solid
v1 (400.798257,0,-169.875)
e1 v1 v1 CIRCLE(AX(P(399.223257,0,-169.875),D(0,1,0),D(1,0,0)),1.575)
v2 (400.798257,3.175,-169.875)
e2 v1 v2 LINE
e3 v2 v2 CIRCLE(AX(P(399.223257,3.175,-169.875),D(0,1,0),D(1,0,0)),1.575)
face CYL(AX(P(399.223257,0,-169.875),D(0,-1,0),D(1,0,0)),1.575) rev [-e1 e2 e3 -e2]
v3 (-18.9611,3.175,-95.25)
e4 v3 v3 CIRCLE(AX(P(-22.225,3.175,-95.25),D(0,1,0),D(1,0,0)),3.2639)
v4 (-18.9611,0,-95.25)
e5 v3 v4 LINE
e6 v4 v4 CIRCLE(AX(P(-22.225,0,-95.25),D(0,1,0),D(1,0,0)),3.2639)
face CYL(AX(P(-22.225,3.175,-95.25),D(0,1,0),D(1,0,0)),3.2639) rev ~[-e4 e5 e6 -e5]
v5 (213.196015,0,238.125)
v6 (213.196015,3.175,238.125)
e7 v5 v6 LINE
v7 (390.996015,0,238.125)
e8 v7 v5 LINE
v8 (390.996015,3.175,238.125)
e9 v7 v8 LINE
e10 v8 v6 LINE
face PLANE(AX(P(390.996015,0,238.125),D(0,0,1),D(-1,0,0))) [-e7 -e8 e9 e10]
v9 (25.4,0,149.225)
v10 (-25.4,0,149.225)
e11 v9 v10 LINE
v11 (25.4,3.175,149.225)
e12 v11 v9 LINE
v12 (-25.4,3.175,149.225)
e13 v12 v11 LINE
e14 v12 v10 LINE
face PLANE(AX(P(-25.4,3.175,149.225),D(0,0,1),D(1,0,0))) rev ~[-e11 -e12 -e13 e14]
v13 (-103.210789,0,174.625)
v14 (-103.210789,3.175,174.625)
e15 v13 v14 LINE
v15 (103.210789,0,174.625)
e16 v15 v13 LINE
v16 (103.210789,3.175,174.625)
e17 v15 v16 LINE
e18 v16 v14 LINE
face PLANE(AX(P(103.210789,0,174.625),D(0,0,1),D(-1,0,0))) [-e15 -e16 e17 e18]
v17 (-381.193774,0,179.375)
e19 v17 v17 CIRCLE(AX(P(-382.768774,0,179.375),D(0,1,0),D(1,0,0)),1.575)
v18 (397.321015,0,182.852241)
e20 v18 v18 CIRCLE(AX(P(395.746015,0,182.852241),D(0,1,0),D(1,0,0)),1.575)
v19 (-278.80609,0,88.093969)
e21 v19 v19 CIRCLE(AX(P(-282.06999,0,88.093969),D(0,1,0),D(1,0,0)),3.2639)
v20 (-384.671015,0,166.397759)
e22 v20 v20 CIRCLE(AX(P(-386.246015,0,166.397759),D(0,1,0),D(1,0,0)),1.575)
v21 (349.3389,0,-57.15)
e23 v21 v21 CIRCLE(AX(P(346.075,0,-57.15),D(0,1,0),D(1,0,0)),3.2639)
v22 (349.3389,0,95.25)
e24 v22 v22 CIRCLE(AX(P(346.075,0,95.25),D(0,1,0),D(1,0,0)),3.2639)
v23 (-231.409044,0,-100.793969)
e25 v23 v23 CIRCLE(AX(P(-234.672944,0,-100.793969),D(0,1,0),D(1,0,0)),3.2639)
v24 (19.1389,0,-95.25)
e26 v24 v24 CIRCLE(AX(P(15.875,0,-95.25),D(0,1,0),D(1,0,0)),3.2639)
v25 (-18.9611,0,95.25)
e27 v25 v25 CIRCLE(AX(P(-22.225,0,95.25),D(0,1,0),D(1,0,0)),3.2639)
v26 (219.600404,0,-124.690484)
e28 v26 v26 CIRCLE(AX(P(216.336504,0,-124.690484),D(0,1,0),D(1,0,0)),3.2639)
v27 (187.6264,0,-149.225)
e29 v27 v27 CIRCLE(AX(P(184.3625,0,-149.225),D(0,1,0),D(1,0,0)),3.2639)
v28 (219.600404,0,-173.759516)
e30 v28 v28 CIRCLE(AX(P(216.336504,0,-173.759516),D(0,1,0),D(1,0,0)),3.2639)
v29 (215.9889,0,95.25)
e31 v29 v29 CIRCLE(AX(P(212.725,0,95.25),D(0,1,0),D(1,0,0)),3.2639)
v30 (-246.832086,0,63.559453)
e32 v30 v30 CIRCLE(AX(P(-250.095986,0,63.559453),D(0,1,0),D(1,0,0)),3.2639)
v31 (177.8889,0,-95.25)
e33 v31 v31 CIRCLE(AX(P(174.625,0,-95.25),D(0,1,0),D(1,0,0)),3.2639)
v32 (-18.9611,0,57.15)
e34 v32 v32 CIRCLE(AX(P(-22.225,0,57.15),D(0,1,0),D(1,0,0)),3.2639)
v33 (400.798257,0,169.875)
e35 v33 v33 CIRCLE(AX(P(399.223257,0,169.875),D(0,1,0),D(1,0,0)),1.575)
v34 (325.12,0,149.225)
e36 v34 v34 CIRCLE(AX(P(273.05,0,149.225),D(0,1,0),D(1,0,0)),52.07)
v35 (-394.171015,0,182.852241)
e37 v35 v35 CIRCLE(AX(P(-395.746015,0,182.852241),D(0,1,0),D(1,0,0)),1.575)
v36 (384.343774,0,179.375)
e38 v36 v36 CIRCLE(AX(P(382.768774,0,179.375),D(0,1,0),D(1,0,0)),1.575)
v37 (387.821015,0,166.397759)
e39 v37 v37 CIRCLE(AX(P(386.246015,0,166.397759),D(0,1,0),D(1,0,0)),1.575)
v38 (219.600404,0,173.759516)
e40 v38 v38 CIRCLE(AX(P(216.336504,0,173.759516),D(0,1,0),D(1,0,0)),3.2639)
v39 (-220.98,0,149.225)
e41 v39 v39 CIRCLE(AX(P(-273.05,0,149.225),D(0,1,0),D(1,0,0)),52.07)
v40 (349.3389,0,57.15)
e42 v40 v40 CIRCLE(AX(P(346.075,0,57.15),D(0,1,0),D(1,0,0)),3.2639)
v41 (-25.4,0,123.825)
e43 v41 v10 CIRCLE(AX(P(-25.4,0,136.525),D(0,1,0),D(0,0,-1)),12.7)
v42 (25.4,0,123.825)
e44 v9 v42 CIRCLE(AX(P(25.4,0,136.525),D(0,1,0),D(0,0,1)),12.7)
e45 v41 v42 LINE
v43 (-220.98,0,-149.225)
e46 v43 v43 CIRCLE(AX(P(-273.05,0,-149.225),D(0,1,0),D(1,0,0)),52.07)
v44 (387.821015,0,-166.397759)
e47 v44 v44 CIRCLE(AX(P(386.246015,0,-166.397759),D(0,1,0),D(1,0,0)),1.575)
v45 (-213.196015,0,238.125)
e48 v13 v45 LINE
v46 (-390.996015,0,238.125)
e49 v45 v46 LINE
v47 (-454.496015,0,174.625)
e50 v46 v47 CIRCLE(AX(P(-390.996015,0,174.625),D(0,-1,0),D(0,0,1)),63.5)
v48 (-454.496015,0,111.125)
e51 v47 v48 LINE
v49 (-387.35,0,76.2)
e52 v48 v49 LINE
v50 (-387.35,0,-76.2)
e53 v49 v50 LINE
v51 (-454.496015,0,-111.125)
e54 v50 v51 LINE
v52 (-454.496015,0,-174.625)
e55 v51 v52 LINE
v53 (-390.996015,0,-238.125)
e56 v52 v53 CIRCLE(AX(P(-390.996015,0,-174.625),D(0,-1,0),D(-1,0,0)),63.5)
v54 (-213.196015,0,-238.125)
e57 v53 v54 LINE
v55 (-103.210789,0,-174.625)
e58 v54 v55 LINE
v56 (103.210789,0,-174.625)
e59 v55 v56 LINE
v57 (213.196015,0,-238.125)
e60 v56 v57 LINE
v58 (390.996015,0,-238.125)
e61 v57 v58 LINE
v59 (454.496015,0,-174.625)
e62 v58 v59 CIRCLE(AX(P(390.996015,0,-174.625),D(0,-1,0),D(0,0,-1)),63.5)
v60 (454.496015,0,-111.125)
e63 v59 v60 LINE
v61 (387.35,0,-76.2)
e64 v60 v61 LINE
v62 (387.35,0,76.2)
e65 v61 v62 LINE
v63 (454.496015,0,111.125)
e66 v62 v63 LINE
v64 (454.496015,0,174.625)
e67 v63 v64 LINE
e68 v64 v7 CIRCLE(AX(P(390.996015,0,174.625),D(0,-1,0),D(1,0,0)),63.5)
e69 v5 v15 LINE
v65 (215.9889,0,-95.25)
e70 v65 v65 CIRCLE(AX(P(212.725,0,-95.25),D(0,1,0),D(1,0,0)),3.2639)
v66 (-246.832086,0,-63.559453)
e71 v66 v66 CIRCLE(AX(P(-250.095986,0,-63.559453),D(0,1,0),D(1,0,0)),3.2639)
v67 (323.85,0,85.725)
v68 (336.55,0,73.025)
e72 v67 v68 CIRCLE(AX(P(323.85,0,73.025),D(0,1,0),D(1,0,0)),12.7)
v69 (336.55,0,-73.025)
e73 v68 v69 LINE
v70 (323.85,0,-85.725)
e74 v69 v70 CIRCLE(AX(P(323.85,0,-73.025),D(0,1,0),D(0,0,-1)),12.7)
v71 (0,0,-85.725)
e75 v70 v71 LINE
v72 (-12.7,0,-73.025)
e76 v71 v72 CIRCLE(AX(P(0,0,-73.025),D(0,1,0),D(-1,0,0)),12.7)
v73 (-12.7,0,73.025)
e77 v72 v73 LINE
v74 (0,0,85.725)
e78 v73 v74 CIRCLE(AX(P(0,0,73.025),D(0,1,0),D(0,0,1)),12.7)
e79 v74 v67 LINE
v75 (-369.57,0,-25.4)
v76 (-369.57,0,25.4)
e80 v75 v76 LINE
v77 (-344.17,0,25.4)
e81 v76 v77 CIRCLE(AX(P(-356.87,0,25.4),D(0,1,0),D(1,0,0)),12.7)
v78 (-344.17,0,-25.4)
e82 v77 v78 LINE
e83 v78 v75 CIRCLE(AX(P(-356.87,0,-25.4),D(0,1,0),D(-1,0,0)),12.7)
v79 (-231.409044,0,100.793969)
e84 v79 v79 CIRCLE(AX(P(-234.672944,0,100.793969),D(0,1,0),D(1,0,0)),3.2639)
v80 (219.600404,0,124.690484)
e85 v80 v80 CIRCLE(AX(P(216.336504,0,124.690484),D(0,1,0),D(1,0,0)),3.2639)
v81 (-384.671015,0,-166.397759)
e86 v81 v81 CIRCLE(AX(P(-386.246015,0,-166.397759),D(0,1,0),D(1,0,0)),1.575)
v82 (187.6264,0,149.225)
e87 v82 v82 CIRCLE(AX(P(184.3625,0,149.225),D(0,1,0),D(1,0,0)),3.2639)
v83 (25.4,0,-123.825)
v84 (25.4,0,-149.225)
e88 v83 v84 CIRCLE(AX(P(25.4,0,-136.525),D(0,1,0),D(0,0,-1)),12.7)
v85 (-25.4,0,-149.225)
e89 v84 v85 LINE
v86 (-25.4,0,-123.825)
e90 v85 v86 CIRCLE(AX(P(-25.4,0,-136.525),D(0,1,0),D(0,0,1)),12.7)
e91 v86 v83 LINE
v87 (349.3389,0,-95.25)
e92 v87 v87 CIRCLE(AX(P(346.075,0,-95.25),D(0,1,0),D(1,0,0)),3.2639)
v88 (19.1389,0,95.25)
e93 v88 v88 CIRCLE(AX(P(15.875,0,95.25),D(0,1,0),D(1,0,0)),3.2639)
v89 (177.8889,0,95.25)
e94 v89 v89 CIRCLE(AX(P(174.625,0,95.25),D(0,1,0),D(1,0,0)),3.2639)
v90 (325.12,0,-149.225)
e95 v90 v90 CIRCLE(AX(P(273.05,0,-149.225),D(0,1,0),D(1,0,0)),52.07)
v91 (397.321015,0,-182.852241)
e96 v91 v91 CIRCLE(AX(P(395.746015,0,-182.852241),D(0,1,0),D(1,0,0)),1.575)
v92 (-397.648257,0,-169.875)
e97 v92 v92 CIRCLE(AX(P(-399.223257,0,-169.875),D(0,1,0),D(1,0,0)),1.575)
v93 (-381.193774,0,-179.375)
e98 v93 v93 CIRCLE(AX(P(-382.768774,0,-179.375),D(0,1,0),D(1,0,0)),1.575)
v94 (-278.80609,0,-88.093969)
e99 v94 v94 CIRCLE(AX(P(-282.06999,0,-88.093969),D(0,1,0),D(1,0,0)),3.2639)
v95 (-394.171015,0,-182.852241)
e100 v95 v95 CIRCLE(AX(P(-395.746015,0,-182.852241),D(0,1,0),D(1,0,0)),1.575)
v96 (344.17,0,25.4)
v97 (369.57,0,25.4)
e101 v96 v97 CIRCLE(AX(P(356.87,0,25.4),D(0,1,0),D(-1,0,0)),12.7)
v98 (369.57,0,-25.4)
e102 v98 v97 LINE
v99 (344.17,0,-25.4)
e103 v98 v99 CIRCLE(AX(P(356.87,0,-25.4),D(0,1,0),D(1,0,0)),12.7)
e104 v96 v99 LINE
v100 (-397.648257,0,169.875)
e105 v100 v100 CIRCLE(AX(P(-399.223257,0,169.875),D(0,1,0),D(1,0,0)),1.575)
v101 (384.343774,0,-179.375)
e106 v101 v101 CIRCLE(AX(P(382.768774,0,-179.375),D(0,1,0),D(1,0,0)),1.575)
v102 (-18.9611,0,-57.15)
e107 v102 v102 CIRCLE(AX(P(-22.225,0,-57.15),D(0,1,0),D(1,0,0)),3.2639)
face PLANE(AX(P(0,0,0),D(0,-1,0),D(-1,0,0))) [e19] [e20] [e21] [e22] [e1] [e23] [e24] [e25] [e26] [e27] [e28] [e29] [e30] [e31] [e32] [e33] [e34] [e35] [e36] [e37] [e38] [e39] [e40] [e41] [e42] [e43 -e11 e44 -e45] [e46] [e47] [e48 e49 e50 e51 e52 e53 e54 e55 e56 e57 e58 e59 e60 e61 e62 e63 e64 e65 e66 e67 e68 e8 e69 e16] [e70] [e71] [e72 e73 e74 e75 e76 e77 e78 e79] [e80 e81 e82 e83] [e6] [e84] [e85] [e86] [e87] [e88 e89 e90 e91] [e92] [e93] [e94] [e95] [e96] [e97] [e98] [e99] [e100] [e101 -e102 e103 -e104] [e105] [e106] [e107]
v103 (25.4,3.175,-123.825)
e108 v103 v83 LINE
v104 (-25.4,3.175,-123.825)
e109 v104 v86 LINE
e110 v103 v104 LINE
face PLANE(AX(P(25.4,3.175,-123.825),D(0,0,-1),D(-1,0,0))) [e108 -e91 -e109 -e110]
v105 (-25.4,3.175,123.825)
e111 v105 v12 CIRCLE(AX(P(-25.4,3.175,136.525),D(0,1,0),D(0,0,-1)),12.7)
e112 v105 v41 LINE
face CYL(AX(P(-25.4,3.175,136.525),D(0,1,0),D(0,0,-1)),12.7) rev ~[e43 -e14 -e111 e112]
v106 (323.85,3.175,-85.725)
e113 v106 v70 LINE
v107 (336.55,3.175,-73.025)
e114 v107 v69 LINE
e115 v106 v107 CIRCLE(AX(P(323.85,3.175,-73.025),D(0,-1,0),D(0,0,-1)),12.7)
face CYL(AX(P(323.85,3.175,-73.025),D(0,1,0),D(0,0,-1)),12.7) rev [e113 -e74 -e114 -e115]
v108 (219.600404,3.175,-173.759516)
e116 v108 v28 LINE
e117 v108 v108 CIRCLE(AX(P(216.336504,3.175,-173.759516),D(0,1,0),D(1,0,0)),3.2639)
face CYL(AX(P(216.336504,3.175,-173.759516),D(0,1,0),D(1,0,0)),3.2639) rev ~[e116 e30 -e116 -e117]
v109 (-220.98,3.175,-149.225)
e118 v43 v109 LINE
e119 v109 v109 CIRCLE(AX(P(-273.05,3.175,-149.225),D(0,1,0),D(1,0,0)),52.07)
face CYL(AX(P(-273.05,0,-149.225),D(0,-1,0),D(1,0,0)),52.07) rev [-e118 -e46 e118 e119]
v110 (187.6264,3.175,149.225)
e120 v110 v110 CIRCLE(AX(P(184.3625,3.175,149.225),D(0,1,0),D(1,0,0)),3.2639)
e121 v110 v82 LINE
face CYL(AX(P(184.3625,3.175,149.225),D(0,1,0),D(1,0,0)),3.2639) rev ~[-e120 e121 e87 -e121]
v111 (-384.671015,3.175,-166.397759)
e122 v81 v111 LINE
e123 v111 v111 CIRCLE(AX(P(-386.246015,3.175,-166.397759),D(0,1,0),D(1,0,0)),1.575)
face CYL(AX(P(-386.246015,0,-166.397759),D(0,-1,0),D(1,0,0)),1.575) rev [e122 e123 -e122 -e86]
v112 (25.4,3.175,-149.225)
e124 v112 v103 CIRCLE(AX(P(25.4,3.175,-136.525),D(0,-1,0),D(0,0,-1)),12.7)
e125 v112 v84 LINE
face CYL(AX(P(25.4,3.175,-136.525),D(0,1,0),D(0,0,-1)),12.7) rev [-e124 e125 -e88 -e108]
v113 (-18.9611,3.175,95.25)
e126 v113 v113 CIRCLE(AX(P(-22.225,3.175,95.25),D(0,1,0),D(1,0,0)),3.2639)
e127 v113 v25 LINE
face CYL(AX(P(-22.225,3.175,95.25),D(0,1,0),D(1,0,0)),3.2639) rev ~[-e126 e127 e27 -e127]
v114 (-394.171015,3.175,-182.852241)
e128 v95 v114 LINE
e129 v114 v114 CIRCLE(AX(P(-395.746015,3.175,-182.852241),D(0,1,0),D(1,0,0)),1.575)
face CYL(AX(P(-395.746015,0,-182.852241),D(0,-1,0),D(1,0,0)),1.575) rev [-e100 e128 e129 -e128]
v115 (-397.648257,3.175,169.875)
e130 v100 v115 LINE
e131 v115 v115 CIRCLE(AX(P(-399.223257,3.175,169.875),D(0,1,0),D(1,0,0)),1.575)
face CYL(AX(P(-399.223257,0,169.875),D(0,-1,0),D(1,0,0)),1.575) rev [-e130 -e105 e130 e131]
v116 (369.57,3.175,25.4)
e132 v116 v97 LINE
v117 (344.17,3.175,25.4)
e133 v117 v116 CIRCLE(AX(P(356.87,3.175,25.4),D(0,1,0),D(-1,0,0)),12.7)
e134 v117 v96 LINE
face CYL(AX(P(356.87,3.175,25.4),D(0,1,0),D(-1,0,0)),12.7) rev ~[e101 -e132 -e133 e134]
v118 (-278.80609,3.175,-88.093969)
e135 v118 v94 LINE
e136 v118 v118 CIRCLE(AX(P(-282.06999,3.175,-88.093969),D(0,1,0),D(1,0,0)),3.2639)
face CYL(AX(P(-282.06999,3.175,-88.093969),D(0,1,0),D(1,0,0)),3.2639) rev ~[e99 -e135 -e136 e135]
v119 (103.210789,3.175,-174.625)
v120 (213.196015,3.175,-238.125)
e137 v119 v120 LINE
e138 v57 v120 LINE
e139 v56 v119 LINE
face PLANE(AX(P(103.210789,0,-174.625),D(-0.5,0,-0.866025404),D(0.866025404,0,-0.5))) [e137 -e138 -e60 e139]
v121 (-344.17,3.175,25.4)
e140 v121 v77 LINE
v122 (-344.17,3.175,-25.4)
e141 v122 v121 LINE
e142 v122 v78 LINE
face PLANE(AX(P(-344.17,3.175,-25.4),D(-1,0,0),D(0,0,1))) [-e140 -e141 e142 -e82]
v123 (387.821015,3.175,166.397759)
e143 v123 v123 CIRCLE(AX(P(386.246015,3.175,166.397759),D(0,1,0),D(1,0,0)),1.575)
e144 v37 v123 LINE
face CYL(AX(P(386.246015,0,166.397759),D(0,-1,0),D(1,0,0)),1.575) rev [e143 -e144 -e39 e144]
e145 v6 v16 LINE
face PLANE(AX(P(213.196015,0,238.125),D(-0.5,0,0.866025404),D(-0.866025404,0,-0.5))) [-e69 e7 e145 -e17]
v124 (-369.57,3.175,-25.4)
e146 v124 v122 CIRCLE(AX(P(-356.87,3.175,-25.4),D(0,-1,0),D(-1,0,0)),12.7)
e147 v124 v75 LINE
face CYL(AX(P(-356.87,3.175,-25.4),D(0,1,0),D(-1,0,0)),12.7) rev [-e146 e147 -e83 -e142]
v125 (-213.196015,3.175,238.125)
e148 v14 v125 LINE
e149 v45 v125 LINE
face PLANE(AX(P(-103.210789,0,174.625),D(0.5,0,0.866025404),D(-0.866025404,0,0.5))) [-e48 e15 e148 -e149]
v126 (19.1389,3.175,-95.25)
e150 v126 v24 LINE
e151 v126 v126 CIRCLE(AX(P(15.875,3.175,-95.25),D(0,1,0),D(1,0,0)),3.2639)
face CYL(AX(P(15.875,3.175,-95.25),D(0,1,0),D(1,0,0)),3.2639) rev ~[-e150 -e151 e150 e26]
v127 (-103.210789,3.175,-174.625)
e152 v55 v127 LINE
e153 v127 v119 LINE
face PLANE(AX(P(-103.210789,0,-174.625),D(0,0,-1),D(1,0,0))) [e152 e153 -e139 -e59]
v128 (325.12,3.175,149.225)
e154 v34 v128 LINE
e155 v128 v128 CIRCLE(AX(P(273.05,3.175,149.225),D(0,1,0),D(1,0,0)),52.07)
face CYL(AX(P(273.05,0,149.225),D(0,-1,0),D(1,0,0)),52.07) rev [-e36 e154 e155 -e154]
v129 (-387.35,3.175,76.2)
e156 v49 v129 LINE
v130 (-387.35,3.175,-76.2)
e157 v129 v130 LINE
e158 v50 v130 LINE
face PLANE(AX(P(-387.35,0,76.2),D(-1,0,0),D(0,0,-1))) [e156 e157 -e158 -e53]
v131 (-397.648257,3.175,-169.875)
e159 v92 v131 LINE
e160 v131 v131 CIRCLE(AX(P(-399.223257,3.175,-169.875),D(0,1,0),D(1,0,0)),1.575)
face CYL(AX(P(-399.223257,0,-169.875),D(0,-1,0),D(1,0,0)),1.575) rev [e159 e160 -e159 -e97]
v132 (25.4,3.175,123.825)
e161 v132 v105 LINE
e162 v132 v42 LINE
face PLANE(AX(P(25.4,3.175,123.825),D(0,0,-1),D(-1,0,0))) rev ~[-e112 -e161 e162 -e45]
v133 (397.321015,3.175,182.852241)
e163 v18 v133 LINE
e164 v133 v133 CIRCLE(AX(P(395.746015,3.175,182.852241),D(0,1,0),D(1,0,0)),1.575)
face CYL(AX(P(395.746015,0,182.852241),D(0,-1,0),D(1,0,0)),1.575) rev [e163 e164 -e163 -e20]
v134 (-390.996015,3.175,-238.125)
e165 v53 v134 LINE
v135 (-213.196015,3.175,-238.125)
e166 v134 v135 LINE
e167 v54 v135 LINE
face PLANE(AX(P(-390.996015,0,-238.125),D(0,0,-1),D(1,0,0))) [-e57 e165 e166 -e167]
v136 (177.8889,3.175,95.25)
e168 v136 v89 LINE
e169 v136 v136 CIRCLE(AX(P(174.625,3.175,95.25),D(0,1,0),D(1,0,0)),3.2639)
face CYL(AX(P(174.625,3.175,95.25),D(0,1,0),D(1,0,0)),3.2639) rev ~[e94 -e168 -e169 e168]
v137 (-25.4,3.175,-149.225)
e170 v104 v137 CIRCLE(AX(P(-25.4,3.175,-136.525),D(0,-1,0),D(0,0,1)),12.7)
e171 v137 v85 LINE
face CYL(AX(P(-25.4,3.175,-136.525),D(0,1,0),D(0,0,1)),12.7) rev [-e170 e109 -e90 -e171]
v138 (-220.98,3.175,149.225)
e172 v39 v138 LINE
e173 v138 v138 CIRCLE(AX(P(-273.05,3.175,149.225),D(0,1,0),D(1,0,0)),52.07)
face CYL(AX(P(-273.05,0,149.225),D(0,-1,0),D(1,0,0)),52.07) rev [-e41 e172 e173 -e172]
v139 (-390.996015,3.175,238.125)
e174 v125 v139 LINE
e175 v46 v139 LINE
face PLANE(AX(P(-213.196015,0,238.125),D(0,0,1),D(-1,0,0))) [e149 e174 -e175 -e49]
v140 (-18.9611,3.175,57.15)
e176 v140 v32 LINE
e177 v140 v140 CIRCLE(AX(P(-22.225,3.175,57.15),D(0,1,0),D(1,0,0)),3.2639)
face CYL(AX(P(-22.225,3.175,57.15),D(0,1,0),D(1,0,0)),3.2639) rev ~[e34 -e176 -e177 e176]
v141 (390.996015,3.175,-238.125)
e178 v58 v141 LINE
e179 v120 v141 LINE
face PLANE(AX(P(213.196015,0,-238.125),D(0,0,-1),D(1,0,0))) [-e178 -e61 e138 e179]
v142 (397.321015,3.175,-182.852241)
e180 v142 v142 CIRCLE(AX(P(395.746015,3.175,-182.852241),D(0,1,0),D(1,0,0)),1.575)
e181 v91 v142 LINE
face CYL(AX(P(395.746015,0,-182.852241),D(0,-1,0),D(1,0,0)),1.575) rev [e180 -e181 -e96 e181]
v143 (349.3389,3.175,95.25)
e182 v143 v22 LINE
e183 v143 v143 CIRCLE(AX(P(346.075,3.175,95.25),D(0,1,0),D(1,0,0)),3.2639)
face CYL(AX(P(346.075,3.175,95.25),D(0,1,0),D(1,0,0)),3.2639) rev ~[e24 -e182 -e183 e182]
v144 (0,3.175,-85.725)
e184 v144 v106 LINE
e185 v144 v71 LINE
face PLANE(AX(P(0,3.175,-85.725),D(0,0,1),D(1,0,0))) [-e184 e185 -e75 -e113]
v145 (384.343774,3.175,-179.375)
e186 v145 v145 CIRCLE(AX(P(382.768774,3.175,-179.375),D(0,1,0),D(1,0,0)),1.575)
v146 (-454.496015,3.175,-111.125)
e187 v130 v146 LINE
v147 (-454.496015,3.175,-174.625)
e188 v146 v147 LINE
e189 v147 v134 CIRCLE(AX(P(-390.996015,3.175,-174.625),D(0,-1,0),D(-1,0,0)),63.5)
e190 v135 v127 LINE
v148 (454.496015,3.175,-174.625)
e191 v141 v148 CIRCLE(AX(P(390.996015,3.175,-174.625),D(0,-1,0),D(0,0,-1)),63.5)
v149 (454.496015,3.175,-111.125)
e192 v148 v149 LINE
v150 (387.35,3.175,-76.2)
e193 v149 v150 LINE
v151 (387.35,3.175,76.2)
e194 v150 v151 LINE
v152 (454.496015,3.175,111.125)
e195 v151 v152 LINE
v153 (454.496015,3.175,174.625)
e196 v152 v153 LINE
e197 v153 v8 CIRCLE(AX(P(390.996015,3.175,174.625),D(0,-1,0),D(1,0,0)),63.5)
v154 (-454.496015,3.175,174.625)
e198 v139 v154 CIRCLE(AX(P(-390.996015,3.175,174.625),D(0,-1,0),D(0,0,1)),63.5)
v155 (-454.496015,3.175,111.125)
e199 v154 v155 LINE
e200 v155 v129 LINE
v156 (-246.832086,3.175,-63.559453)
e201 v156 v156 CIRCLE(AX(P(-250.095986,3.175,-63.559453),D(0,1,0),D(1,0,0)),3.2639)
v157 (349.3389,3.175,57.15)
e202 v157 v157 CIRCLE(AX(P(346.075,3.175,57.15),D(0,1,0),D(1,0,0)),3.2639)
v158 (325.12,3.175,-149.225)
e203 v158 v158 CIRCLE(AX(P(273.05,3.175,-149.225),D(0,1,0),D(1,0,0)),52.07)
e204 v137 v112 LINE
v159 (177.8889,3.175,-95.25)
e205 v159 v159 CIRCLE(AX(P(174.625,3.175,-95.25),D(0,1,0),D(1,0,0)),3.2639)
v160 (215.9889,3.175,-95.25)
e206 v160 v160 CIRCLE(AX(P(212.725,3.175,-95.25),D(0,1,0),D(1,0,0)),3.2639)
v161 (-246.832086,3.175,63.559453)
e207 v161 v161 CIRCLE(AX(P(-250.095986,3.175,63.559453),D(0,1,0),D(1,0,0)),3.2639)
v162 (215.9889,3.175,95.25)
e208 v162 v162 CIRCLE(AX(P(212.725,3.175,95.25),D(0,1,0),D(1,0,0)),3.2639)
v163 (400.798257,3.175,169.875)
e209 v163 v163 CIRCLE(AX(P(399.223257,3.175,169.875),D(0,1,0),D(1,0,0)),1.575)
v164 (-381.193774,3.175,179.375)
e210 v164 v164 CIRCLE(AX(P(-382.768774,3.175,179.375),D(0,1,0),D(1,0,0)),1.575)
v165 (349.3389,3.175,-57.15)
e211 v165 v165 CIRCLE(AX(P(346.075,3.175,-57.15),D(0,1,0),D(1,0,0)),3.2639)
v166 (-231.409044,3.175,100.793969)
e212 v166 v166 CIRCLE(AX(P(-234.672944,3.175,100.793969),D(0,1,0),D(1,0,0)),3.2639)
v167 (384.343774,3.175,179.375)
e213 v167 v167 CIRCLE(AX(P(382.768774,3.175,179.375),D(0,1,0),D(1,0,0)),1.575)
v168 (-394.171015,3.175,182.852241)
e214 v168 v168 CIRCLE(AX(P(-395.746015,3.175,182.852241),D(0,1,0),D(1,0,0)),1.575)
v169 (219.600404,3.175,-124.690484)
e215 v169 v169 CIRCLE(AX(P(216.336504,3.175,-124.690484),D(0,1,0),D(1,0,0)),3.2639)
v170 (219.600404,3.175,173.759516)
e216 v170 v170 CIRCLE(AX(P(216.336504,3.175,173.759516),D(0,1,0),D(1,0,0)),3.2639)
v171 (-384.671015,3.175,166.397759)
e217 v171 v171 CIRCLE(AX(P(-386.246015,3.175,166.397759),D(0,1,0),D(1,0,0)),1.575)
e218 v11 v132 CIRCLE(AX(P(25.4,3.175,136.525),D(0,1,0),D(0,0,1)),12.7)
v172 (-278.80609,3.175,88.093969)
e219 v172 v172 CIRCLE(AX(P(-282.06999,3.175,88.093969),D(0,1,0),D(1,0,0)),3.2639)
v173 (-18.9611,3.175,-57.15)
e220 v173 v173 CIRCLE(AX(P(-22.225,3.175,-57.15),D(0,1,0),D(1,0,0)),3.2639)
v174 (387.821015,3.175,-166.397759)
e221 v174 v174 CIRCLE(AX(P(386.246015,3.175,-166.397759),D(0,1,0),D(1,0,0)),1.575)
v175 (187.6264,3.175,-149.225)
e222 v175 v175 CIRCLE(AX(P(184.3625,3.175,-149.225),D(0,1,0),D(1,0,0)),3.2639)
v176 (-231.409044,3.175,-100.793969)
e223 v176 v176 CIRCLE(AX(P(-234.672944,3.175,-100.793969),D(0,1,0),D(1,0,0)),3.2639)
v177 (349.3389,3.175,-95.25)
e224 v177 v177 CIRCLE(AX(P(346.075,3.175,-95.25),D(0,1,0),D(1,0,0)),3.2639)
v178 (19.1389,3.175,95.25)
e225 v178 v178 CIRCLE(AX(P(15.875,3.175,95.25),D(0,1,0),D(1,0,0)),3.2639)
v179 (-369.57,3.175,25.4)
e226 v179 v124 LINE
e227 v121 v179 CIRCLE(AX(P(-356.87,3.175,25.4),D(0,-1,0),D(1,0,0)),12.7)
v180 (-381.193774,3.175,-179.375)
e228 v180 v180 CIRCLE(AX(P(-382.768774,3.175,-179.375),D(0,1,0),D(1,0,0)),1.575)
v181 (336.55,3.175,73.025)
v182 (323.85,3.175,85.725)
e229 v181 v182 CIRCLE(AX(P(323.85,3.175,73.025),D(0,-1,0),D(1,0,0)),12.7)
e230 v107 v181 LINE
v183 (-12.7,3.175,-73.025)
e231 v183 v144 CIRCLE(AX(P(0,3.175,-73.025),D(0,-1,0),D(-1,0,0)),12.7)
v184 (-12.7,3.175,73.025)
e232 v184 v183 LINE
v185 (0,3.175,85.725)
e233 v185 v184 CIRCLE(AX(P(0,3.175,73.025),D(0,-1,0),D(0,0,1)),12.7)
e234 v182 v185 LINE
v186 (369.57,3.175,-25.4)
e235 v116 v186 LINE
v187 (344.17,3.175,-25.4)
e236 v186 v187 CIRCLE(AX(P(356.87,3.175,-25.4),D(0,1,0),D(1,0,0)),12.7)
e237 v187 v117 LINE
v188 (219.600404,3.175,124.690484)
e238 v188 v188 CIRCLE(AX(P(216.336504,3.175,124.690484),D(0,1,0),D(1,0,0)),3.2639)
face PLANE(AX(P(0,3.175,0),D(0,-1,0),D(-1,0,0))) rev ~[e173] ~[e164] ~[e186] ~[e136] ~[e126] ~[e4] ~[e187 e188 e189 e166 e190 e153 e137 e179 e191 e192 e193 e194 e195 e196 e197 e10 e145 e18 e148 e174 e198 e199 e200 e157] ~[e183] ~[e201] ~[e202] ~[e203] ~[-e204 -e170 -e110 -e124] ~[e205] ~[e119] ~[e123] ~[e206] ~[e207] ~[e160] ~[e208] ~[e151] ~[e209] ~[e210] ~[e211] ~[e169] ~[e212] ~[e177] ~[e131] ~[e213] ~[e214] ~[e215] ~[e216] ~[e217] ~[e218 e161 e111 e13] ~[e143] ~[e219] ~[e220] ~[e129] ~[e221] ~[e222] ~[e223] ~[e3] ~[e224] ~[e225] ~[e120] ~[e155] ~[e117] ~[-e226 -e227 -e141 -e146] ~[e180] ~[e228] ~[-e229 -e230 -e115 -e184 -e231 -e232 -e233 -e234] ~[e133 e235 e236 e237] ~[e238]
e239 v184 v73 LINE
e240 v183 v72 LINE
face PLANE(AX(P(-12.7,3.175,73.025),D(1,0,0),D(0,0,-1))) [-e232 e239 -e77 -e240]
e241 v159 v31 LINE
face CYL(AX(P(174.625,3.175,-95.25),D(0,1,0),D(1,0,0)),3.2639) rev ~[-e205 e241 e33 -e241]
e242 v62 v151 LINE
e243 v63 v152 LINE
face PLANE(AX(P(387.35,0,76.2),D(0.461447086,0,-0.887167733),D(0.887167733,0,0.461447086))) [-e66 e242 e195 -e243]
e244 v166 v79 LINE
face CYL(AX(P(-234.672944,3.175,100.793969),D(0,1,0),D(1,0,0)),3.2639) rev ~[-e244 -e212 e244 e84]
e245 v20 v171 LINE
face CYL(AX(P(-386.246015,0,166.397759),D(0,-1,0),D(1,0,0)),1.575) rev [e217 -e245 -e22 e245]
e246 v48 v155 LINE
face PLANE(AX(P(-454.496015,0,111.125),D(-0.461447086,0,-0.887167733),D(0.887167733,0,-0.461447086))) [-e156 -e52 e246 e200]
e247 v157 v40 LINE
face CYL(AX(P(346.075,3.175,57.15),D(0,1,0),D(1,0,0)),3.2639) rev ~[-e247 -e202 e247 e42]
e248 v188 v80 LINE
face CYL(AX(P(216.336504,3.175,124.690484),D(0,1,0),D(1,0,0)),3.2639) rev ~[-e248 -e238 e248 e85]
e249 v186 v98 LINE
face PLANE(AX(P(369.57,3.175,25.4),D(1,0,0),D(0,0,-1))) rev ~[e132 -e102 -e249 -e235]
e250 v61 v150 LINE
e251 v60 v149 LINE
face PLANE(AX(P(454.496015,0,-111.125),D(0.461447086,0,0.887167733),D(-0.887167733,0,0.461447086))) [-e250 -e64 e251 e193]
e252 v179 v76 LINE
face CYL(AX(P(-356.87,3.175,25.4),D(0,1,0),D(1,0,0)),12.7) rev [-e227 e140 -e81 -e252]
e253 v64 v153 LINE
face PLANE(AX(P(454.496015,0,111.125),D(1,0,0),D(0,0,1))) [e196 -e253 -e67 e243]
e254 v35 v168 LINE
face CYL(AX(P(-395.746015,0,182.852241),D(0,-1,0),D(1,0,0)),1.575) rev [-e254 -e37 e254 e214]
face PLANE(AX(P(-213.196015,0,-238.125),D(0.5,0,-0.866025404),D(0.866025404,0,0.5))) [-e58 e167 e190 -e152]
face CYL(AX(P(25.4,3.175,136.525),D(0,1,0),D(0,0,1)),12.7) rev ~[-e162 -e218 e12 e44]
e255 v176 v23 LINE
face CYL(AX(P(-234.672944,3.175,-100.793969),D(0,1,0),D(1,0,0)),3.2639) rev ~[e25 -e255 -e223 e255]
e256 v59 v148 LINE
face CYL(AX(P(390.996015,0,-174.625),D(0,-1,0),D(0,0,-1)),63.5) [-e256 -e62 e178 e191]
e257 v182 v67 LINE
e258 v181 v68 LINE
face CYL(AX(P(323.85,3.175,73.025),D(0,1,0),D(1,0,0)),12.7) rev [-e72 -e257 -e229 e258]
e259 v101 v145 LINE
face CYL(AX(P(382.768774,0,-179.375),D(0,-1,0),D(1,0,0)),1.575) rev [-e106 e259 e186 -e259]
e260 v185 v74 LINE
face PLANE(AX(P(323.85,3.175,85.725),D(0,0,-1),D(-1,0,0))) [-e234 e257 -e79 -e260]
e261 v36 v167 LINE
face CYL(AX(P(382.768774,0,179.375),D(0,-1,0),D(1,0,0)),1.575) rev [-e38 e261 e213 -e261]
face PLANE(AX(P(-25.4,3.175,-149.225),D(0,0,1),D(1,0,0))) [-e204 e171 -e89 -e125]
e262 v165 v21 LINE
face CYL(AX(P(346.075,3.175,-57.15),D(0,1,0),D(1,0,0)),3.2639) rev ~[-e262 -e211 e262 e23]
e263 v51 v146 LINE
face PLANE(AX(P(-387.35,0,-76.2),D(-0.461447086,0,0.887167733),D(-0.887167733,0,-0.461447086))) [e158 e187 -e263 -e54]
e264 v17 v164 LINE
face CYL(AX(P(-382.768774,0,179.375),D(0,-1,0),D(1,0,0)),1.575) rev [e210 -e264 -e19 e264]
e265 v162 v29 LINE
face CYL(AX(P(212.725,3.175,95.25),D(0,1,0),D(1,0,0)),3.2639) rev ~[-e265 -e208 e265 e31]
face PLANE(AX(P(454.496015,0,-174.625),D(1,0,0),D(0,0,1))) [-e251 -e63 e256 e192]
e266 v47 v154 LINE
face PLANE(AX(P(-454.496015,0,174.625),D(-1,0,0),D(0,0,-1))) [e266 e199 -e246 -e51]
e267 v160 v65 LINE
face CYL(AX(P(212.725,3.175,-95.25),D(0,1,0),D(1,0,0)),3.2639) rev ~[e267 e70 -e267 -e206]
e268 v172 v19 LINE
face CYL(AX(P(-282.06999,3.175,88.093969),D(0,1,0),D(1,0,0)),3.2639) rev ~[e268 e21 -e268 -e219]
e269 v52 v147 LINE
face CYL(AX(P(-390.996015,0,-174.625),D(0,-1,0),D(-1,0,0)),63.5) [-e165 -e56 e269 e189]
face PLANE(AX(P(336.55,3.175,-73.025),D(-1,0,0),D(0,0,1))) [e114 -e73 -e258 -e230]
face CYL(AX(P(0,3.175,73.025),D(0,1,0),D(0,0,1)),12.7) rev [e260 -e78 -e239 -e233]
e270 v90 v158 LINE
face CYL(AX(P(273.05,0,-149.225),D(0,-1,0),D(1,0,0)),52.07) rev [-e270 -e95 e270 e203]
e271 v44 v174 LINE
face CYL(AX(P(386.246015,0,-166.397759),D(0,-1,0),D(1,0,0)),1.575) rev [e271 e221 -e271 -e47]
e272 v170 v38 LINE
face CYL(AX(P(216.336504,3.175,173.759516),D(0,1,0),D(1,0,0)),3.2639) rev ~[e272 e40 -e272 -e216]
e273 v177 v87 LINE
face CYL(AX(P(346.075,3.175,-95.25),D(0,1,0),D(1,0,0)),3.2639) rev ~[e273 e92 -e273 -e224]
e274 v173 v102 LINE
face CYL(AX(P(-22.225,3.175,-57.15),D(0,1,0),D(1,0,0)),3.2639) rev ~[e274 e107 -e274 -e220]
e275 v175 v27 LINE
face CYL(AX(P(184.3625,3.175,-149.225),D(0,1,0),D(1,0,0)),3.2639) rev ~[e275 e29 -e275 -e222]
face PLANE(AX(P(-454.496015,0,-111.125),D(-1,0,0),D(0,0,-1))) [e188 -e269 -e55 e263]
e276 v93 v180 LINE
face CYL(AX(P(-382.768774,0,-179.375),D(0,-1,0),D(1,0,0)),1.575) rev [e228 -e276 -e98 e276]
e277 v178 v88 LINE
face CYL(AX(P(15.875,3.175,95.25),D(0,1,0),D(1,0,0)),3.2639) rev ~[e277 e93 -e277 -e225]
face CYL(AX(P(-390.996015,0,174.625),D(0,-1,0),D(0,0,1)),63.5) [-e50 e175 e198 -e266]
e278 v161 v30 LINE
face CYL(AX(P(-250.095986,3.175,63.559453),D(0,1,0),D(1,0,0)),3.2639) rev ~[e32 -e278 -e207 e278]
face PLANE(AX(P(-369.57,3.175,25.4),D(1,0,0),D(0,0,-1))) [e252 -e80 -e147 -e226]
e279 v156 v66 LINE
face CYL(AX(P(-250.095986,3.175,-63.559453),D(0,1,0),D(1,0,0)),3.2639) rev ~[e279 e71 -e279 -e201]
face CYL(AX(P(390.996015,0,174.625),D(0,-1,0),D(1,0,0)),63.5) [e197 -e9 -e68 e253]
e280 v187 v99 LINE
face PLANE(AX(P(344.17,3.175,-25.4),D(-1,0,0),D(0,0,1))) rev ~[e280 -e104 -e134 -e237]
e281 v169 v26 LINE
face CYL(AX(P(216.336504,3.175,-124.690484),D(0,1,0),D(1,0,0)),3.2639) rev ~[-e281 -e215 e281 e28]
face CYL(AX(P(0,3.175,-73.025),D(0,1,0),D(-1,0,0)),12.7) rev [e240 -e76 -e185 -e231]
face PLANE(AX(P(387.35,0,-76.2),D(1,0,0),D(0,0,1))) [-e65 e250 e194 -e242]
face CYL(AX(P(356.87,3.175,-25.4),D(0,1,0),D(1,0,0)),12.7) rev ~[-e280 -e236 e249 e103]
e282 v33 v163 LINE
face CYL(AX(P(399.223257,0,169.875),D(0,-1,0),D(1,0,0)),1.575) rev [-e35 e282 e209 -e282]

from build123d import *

# Parameters (mm, degrees)
SKETCH1_R           = 52.07
SKETCH1_R_2         = 1.575
BOSS_EXTRUDE1_DEPTH = 3.175
SKETCH2_R           = 3.2639
CUT_EXTRUDE1_DEPTH  = 4.175
SKETCH3_R           = 3.2639
CUT_EXTRUDE2_DEPTH  = 4.175
CUT_EXTRUDE3_DEPTH  = 4.175
CUT_EXTRUDE4_DEPTH  = 4.175


with BuildPart() as part:
    # Sketch1 → Boss-Extrude1 (new body)
    with BuildSketch(Plane(origin=(0, 0, 0), x_dir=(1, 0, 0), z_dir=(0, 1, 0))):
        with BuildLine():
            Line((387.35, 76.2), (387.35, -76.2))
            Line((387.35, -76.2), (454.496015193, -111.125))
            Line((454.496015193, -111.125), (454.496015193, -174.625))
            ThreePointArc((454.496015193, -174.625), (435.897295799, -219.526280605), (390.996015193, -238.125))
            Line((390.996015193, -238.125), (213.196015193, -238.125))
            Line((213.196015193, -238.125), (103.210788913, -174.625))
            Line((103.210788913, -174.625), (-103.210788913, -174.625))
            Line((-103.210788913, -174.625), (-213.196015193, -238.125))
            Line((-213.196015193, -238.125), (-390.996015193, -238.125))
            ThreePointArc((-390.996015193, -238.125), (-435.897295799, -219.526280605), (-454.496015193, -174.625))
            Line((-454.496015193, -174.625), (-454.496015193, -111.125))
            Line((-454.496015193, -111.125), (-387.35, -76.2))
            Line((-387.35, -76.2), (-387.35, 76.2))
            Line((-387.35, 76.2), (-454.496015193, 111.125))
            Line((-454.496015193, 111.125), (-454.496015193, 174.625))
            ThreePointArc((-454.496015193, 174.625), (-435.897295799, 219.526280605), (-390.996015193, 238.125))
            Line((-390.996015193, 238.125), (-213.196015193, 238.125))
            Line((-213.196015193, 238.125), (-103.210788913, 174.625))
            Line((-103.210788913, 174.625), (103.210788913, 174.625))
            Line((103.210788913, 174.625), (213.196015193, 238.125))
            Line((213.196015193, 238.125), (390.996015193, 238.125))
            ThreePointArc((390.996015193, 238.125), (435.897295799, 219.526280605), (454.496015193, 174.625))
            Line((454.496015193, 174.625), (454.496015193, 111.125))
            Line((454.496015193, 111.125), (387.35, 76.2))
        make_face()
        with Locations((273.05, 149.225)):
            Circle(SKETCH1_R, mode=Mode.SUBTRACT)
        with Locations((273.05, -149.225)):
            Circle(SKETCH1_R, mode=Mode.SUBTRACT)
        with Locations((-273.05, 149.225)):
            Circle(SKETCH1_R, mode=Mode.SUBTRACT)
        with Locations((-273.05, -149.225)):
            Circle(SKETCH1_R, mode=Mode.SUBTRACT)
        with Locations((382.768773857, 179.375)):
            Circle(SKETCH1_R_2, mode=Mode.SUBTRACT)
        with Locations((395.746015193, 182.852241336)):
            Circle(SKETCH1_R_2, mode=Mode.SUBTRACT)
        with Locations((399.223256529, 169.875)):
            Circle(SKETCH1_R_2, mode=Mode.SUBTRACT)
        with Locations((386.246015193, 166.397758664)):
            Circle(SKETCH1_R_2, mode=Mode.SUBTRACT)
        with Locations((386.246015193, -166.397758664)):
            Circle(SKETCH1_R_2, mode=Mode.SUBTRACT)
        with Locations((399.223256529, -169.875)):
            Circle(SKETCH1_R_2, mode=Mode.SUBTRACT)
        with Locations((395.746015193, -182.852241336)):
            Circle(SKETCH1_R_2, mode=Mode.SUBTRACT)
        with Locations((382.768773857, -179.375)):
            Circle(SKETCH1_R_2, mode=Mode.SUBTRACT)
        with Locations((-399.223256529, 169.875)):
            Circle(SKETCH1_R_2, mode=Mode.SUBTRACT)
        with Locations((-395.746015193, 182.852241336)):
            Circle(SKETCH1_R_2, mode=Mode.SUBTRACT)
        with Locations((-382.768773857, 179.375)):
            Circle(SKETCH1_R_2, mode=Mode.SUBTRACT)
        with Locations((-386.246015193, 166.397758664)):
            Circle(SKETCH1_R_2, mode=Mode.SUBTRACT)
        with Locations((-386.246015193, -166.397758664)):
            Circle(SKETCH1_R_2, mode=Mode.SUBTRACT)
        with Locations((-399.223256529, -169.875)):
            Circle(SKETCH1_R_2, mode=Mode.SUBTRACT)
        with Locations((-382.768773857, -179.375)):
            Circle(SKETCH1_R_2, mode=Mode.SUBTRACT)
        with Locations((-395.746015193, -182.852241336)):
            Circle(SKETCH1_R_2, mode=Mode.SUBTRACT)
    extrude(amount=BOSS_EXTRUDE1_DEPTH)

    # Sketch2 → Cut-Extrude1 (cut, through all)
    with BuildSketch(Plane(origin=(0, 3.175, 0), x_dir=(1, 0, 0), z_dir=(0, 1, 0))):
        with Locations((346.075, 95.25)):
            Circle(SKETCH2_R)
        with Locations((346.075, 57.15)):
            Circle(SKETCH2_R)
        with Locations((212.725, 95.25)):
            Circle(SKETCH2_R)
        with Locations((174.625, 95.25)):
            Circle(SKETCH2_R)
        with Locations((15.875, 95.25)):
            Circle(SKETCH2_R)
        with Locations((-22.225, 95.25)):
            Circle(SKETCH2_R)
        with Locations((-22.225, 57.15)):
            Circle(SKETCH2_R)
        with Locations((346.075, -57.15)):
            Circle(SKETCH2_R)
        with Locations((346.075, -95.25)):
            Circle(SKETCH2_R)
        with Locations((212.725, -95.25)):
            Circle(SKETCH2_R)
        with Locations((174.625, -95.25)):
            Circle(SKETCH2_R)
        with Locations((15.875, -95.25)):
            Circle(SKETCH2_R)
        with Locations((-22.225, -95.25)):
            Circle(SKETCH2_R)
        with Locations((-22.225, -57.15)):
            Circle(SKETCH2_R)
        with BuildLine():
            Line((0, 85.725), (323.85, 85.725))
            ThreePointArc((323.85, 85.725), (332.830256121, 82.005256121), (336.55, 73.025))
            Line((336.55, 73.025), (336.55, -73.025))
            ThreePointArc((336.55, -73.025), (332.830256121, -82.005256121), (323.85, -85.725))
            Line((323.85, -85.725), (0, -85.725))
            ThreePointArc((0, -85.725), (-8.980256121, -82.005256121), (-12.7, -73.025))
            Line((-12.7, -73.025), (-12.7, 73.025))
            ThreePointArc((-12.7, 73.025), (-8.980256121, 82.005256121), (0, 85.725))
        make_face()
    extrude(amount=-CUT_EXTRUDE1_DEPTH, mode=Mode.SUBTRACT)

    # Sketch3 → Cut-Extrude2 (cut, through all)
    with BuildSketch(Plane(origin=(0, 3.175, 0), x_dir=(1, 0, 0), z_dir=(0, 1, 0))):
        with Locations((184.362499956, 149.225)):
            Circle(SKETCH3_R)
        with Locations((-250.095985926, 63.559453238)):
            Circle(SKETCH3_R)
        with Locations((184.362499956, -149.225)):
            Circle(SKETCH3_R)
        with Locations((-250.095985926, -63.559453238)):
            Circle(SKETCH3_R)
        with Locations((216.336503702, 173.759515988)):
            Circle(SKETCH3_R)
        with Locations((216.336503702, 124.690484012)):
            Circle(SKETCH3_R)
        with Locations((-282.069989672, 88.093969226)):
            Circle(SKETCH3_R)
        with Locations((-234.672944416, 100.793969226)):
            Circle(SKETCH3_R)
        with Locations((216.336503702, -124.690484012)):
            Circle(SKETCH3_R)
        with Locations((216.336503702, -173.759515988)):
            Circle(SKETCH3_R)
        with Locations((-234.672944416, -100.793969226)):
            Circle(SKETCH3_R)
        with Locations((-282.069989672, -88.093969226)):
            Circle(SKETCH3_R)
    extrude(amount=-CUT_EXTRUDE2_DEPTH, mode=Mode.SUBTRACT)

    # Sketch4 → Cut-Extrude3 (cut, through all)
    with BuildSketch(Plane(origin=(0, 3.175, 0), x_dir=(1, 0, 0), z_dir=(0, 1, 0))):
        with BuildLine():
            Line((-344.17, 25.4), (-344.17, -25.4))
            ThreePointArc((-344.17, -25.4), (-356.87, -38.1), (-369.57, -25.4))
            Line((-369.57, -25.4), (-369.57, 25.4))
            ThreePointArc((-369.57, 25.4), (-356.87, 38.1), (-344.17, 25.4))
        make_face()
        with BuildLine():
            Line((344.17, 25.4), (344.17, -25.4))
            ThreePointArc((344.17, -25.4), (356.87, -38.1), (369.57, -25.4))
            Line((369.57, -25.4), (369.57, 25.4))
            ThreePointArc((369.57, 25.4), (356.87, 38.1), (344.17, 25.4))
        make_face()
    extrude(amount=-CUT_EXTRUDE3_DEPTH, mode=Mode.SUBTRACT)

    # Sketch5 → Cut-Extrude4 (cut, through all)
    with BuildSketch(Plane(origin=(0, 3.175, 0), x_dir=(1, 0, 0), z_dir=(0, 1, 0))):
        with BuildLine():
            Line((-25.4, 149.225), (25.4, 149.225))
            ThreePointArc((25.4, 149.225), (38.1, 136.525), (25.4, 123.825))
            Line((25.4, 123.825), (-25.4, 123.825))
            ThreePointArc((-25.4, 123.825), (-38.1, 136.525), (-25.4, 149.225))
        make_face()
        with BuildLine():
            Line((-25.4, -149.225), (25.4, -149.225))
            ThreePointArc((25.4, -149.225), (38.1, -136.525), (25.4, -123.825))
            Line((25.4, -123.825), (-25.4, -123.825))
            ThreePointArc((-25.4, -123.825), (-38.1, -136.525), (-25.4, -149.225))
        make_face()
    extrude(amount=-CUT_EXTRUDE4_DEPTH, mode=Mode.SUBTRACT)


solid = part.part
